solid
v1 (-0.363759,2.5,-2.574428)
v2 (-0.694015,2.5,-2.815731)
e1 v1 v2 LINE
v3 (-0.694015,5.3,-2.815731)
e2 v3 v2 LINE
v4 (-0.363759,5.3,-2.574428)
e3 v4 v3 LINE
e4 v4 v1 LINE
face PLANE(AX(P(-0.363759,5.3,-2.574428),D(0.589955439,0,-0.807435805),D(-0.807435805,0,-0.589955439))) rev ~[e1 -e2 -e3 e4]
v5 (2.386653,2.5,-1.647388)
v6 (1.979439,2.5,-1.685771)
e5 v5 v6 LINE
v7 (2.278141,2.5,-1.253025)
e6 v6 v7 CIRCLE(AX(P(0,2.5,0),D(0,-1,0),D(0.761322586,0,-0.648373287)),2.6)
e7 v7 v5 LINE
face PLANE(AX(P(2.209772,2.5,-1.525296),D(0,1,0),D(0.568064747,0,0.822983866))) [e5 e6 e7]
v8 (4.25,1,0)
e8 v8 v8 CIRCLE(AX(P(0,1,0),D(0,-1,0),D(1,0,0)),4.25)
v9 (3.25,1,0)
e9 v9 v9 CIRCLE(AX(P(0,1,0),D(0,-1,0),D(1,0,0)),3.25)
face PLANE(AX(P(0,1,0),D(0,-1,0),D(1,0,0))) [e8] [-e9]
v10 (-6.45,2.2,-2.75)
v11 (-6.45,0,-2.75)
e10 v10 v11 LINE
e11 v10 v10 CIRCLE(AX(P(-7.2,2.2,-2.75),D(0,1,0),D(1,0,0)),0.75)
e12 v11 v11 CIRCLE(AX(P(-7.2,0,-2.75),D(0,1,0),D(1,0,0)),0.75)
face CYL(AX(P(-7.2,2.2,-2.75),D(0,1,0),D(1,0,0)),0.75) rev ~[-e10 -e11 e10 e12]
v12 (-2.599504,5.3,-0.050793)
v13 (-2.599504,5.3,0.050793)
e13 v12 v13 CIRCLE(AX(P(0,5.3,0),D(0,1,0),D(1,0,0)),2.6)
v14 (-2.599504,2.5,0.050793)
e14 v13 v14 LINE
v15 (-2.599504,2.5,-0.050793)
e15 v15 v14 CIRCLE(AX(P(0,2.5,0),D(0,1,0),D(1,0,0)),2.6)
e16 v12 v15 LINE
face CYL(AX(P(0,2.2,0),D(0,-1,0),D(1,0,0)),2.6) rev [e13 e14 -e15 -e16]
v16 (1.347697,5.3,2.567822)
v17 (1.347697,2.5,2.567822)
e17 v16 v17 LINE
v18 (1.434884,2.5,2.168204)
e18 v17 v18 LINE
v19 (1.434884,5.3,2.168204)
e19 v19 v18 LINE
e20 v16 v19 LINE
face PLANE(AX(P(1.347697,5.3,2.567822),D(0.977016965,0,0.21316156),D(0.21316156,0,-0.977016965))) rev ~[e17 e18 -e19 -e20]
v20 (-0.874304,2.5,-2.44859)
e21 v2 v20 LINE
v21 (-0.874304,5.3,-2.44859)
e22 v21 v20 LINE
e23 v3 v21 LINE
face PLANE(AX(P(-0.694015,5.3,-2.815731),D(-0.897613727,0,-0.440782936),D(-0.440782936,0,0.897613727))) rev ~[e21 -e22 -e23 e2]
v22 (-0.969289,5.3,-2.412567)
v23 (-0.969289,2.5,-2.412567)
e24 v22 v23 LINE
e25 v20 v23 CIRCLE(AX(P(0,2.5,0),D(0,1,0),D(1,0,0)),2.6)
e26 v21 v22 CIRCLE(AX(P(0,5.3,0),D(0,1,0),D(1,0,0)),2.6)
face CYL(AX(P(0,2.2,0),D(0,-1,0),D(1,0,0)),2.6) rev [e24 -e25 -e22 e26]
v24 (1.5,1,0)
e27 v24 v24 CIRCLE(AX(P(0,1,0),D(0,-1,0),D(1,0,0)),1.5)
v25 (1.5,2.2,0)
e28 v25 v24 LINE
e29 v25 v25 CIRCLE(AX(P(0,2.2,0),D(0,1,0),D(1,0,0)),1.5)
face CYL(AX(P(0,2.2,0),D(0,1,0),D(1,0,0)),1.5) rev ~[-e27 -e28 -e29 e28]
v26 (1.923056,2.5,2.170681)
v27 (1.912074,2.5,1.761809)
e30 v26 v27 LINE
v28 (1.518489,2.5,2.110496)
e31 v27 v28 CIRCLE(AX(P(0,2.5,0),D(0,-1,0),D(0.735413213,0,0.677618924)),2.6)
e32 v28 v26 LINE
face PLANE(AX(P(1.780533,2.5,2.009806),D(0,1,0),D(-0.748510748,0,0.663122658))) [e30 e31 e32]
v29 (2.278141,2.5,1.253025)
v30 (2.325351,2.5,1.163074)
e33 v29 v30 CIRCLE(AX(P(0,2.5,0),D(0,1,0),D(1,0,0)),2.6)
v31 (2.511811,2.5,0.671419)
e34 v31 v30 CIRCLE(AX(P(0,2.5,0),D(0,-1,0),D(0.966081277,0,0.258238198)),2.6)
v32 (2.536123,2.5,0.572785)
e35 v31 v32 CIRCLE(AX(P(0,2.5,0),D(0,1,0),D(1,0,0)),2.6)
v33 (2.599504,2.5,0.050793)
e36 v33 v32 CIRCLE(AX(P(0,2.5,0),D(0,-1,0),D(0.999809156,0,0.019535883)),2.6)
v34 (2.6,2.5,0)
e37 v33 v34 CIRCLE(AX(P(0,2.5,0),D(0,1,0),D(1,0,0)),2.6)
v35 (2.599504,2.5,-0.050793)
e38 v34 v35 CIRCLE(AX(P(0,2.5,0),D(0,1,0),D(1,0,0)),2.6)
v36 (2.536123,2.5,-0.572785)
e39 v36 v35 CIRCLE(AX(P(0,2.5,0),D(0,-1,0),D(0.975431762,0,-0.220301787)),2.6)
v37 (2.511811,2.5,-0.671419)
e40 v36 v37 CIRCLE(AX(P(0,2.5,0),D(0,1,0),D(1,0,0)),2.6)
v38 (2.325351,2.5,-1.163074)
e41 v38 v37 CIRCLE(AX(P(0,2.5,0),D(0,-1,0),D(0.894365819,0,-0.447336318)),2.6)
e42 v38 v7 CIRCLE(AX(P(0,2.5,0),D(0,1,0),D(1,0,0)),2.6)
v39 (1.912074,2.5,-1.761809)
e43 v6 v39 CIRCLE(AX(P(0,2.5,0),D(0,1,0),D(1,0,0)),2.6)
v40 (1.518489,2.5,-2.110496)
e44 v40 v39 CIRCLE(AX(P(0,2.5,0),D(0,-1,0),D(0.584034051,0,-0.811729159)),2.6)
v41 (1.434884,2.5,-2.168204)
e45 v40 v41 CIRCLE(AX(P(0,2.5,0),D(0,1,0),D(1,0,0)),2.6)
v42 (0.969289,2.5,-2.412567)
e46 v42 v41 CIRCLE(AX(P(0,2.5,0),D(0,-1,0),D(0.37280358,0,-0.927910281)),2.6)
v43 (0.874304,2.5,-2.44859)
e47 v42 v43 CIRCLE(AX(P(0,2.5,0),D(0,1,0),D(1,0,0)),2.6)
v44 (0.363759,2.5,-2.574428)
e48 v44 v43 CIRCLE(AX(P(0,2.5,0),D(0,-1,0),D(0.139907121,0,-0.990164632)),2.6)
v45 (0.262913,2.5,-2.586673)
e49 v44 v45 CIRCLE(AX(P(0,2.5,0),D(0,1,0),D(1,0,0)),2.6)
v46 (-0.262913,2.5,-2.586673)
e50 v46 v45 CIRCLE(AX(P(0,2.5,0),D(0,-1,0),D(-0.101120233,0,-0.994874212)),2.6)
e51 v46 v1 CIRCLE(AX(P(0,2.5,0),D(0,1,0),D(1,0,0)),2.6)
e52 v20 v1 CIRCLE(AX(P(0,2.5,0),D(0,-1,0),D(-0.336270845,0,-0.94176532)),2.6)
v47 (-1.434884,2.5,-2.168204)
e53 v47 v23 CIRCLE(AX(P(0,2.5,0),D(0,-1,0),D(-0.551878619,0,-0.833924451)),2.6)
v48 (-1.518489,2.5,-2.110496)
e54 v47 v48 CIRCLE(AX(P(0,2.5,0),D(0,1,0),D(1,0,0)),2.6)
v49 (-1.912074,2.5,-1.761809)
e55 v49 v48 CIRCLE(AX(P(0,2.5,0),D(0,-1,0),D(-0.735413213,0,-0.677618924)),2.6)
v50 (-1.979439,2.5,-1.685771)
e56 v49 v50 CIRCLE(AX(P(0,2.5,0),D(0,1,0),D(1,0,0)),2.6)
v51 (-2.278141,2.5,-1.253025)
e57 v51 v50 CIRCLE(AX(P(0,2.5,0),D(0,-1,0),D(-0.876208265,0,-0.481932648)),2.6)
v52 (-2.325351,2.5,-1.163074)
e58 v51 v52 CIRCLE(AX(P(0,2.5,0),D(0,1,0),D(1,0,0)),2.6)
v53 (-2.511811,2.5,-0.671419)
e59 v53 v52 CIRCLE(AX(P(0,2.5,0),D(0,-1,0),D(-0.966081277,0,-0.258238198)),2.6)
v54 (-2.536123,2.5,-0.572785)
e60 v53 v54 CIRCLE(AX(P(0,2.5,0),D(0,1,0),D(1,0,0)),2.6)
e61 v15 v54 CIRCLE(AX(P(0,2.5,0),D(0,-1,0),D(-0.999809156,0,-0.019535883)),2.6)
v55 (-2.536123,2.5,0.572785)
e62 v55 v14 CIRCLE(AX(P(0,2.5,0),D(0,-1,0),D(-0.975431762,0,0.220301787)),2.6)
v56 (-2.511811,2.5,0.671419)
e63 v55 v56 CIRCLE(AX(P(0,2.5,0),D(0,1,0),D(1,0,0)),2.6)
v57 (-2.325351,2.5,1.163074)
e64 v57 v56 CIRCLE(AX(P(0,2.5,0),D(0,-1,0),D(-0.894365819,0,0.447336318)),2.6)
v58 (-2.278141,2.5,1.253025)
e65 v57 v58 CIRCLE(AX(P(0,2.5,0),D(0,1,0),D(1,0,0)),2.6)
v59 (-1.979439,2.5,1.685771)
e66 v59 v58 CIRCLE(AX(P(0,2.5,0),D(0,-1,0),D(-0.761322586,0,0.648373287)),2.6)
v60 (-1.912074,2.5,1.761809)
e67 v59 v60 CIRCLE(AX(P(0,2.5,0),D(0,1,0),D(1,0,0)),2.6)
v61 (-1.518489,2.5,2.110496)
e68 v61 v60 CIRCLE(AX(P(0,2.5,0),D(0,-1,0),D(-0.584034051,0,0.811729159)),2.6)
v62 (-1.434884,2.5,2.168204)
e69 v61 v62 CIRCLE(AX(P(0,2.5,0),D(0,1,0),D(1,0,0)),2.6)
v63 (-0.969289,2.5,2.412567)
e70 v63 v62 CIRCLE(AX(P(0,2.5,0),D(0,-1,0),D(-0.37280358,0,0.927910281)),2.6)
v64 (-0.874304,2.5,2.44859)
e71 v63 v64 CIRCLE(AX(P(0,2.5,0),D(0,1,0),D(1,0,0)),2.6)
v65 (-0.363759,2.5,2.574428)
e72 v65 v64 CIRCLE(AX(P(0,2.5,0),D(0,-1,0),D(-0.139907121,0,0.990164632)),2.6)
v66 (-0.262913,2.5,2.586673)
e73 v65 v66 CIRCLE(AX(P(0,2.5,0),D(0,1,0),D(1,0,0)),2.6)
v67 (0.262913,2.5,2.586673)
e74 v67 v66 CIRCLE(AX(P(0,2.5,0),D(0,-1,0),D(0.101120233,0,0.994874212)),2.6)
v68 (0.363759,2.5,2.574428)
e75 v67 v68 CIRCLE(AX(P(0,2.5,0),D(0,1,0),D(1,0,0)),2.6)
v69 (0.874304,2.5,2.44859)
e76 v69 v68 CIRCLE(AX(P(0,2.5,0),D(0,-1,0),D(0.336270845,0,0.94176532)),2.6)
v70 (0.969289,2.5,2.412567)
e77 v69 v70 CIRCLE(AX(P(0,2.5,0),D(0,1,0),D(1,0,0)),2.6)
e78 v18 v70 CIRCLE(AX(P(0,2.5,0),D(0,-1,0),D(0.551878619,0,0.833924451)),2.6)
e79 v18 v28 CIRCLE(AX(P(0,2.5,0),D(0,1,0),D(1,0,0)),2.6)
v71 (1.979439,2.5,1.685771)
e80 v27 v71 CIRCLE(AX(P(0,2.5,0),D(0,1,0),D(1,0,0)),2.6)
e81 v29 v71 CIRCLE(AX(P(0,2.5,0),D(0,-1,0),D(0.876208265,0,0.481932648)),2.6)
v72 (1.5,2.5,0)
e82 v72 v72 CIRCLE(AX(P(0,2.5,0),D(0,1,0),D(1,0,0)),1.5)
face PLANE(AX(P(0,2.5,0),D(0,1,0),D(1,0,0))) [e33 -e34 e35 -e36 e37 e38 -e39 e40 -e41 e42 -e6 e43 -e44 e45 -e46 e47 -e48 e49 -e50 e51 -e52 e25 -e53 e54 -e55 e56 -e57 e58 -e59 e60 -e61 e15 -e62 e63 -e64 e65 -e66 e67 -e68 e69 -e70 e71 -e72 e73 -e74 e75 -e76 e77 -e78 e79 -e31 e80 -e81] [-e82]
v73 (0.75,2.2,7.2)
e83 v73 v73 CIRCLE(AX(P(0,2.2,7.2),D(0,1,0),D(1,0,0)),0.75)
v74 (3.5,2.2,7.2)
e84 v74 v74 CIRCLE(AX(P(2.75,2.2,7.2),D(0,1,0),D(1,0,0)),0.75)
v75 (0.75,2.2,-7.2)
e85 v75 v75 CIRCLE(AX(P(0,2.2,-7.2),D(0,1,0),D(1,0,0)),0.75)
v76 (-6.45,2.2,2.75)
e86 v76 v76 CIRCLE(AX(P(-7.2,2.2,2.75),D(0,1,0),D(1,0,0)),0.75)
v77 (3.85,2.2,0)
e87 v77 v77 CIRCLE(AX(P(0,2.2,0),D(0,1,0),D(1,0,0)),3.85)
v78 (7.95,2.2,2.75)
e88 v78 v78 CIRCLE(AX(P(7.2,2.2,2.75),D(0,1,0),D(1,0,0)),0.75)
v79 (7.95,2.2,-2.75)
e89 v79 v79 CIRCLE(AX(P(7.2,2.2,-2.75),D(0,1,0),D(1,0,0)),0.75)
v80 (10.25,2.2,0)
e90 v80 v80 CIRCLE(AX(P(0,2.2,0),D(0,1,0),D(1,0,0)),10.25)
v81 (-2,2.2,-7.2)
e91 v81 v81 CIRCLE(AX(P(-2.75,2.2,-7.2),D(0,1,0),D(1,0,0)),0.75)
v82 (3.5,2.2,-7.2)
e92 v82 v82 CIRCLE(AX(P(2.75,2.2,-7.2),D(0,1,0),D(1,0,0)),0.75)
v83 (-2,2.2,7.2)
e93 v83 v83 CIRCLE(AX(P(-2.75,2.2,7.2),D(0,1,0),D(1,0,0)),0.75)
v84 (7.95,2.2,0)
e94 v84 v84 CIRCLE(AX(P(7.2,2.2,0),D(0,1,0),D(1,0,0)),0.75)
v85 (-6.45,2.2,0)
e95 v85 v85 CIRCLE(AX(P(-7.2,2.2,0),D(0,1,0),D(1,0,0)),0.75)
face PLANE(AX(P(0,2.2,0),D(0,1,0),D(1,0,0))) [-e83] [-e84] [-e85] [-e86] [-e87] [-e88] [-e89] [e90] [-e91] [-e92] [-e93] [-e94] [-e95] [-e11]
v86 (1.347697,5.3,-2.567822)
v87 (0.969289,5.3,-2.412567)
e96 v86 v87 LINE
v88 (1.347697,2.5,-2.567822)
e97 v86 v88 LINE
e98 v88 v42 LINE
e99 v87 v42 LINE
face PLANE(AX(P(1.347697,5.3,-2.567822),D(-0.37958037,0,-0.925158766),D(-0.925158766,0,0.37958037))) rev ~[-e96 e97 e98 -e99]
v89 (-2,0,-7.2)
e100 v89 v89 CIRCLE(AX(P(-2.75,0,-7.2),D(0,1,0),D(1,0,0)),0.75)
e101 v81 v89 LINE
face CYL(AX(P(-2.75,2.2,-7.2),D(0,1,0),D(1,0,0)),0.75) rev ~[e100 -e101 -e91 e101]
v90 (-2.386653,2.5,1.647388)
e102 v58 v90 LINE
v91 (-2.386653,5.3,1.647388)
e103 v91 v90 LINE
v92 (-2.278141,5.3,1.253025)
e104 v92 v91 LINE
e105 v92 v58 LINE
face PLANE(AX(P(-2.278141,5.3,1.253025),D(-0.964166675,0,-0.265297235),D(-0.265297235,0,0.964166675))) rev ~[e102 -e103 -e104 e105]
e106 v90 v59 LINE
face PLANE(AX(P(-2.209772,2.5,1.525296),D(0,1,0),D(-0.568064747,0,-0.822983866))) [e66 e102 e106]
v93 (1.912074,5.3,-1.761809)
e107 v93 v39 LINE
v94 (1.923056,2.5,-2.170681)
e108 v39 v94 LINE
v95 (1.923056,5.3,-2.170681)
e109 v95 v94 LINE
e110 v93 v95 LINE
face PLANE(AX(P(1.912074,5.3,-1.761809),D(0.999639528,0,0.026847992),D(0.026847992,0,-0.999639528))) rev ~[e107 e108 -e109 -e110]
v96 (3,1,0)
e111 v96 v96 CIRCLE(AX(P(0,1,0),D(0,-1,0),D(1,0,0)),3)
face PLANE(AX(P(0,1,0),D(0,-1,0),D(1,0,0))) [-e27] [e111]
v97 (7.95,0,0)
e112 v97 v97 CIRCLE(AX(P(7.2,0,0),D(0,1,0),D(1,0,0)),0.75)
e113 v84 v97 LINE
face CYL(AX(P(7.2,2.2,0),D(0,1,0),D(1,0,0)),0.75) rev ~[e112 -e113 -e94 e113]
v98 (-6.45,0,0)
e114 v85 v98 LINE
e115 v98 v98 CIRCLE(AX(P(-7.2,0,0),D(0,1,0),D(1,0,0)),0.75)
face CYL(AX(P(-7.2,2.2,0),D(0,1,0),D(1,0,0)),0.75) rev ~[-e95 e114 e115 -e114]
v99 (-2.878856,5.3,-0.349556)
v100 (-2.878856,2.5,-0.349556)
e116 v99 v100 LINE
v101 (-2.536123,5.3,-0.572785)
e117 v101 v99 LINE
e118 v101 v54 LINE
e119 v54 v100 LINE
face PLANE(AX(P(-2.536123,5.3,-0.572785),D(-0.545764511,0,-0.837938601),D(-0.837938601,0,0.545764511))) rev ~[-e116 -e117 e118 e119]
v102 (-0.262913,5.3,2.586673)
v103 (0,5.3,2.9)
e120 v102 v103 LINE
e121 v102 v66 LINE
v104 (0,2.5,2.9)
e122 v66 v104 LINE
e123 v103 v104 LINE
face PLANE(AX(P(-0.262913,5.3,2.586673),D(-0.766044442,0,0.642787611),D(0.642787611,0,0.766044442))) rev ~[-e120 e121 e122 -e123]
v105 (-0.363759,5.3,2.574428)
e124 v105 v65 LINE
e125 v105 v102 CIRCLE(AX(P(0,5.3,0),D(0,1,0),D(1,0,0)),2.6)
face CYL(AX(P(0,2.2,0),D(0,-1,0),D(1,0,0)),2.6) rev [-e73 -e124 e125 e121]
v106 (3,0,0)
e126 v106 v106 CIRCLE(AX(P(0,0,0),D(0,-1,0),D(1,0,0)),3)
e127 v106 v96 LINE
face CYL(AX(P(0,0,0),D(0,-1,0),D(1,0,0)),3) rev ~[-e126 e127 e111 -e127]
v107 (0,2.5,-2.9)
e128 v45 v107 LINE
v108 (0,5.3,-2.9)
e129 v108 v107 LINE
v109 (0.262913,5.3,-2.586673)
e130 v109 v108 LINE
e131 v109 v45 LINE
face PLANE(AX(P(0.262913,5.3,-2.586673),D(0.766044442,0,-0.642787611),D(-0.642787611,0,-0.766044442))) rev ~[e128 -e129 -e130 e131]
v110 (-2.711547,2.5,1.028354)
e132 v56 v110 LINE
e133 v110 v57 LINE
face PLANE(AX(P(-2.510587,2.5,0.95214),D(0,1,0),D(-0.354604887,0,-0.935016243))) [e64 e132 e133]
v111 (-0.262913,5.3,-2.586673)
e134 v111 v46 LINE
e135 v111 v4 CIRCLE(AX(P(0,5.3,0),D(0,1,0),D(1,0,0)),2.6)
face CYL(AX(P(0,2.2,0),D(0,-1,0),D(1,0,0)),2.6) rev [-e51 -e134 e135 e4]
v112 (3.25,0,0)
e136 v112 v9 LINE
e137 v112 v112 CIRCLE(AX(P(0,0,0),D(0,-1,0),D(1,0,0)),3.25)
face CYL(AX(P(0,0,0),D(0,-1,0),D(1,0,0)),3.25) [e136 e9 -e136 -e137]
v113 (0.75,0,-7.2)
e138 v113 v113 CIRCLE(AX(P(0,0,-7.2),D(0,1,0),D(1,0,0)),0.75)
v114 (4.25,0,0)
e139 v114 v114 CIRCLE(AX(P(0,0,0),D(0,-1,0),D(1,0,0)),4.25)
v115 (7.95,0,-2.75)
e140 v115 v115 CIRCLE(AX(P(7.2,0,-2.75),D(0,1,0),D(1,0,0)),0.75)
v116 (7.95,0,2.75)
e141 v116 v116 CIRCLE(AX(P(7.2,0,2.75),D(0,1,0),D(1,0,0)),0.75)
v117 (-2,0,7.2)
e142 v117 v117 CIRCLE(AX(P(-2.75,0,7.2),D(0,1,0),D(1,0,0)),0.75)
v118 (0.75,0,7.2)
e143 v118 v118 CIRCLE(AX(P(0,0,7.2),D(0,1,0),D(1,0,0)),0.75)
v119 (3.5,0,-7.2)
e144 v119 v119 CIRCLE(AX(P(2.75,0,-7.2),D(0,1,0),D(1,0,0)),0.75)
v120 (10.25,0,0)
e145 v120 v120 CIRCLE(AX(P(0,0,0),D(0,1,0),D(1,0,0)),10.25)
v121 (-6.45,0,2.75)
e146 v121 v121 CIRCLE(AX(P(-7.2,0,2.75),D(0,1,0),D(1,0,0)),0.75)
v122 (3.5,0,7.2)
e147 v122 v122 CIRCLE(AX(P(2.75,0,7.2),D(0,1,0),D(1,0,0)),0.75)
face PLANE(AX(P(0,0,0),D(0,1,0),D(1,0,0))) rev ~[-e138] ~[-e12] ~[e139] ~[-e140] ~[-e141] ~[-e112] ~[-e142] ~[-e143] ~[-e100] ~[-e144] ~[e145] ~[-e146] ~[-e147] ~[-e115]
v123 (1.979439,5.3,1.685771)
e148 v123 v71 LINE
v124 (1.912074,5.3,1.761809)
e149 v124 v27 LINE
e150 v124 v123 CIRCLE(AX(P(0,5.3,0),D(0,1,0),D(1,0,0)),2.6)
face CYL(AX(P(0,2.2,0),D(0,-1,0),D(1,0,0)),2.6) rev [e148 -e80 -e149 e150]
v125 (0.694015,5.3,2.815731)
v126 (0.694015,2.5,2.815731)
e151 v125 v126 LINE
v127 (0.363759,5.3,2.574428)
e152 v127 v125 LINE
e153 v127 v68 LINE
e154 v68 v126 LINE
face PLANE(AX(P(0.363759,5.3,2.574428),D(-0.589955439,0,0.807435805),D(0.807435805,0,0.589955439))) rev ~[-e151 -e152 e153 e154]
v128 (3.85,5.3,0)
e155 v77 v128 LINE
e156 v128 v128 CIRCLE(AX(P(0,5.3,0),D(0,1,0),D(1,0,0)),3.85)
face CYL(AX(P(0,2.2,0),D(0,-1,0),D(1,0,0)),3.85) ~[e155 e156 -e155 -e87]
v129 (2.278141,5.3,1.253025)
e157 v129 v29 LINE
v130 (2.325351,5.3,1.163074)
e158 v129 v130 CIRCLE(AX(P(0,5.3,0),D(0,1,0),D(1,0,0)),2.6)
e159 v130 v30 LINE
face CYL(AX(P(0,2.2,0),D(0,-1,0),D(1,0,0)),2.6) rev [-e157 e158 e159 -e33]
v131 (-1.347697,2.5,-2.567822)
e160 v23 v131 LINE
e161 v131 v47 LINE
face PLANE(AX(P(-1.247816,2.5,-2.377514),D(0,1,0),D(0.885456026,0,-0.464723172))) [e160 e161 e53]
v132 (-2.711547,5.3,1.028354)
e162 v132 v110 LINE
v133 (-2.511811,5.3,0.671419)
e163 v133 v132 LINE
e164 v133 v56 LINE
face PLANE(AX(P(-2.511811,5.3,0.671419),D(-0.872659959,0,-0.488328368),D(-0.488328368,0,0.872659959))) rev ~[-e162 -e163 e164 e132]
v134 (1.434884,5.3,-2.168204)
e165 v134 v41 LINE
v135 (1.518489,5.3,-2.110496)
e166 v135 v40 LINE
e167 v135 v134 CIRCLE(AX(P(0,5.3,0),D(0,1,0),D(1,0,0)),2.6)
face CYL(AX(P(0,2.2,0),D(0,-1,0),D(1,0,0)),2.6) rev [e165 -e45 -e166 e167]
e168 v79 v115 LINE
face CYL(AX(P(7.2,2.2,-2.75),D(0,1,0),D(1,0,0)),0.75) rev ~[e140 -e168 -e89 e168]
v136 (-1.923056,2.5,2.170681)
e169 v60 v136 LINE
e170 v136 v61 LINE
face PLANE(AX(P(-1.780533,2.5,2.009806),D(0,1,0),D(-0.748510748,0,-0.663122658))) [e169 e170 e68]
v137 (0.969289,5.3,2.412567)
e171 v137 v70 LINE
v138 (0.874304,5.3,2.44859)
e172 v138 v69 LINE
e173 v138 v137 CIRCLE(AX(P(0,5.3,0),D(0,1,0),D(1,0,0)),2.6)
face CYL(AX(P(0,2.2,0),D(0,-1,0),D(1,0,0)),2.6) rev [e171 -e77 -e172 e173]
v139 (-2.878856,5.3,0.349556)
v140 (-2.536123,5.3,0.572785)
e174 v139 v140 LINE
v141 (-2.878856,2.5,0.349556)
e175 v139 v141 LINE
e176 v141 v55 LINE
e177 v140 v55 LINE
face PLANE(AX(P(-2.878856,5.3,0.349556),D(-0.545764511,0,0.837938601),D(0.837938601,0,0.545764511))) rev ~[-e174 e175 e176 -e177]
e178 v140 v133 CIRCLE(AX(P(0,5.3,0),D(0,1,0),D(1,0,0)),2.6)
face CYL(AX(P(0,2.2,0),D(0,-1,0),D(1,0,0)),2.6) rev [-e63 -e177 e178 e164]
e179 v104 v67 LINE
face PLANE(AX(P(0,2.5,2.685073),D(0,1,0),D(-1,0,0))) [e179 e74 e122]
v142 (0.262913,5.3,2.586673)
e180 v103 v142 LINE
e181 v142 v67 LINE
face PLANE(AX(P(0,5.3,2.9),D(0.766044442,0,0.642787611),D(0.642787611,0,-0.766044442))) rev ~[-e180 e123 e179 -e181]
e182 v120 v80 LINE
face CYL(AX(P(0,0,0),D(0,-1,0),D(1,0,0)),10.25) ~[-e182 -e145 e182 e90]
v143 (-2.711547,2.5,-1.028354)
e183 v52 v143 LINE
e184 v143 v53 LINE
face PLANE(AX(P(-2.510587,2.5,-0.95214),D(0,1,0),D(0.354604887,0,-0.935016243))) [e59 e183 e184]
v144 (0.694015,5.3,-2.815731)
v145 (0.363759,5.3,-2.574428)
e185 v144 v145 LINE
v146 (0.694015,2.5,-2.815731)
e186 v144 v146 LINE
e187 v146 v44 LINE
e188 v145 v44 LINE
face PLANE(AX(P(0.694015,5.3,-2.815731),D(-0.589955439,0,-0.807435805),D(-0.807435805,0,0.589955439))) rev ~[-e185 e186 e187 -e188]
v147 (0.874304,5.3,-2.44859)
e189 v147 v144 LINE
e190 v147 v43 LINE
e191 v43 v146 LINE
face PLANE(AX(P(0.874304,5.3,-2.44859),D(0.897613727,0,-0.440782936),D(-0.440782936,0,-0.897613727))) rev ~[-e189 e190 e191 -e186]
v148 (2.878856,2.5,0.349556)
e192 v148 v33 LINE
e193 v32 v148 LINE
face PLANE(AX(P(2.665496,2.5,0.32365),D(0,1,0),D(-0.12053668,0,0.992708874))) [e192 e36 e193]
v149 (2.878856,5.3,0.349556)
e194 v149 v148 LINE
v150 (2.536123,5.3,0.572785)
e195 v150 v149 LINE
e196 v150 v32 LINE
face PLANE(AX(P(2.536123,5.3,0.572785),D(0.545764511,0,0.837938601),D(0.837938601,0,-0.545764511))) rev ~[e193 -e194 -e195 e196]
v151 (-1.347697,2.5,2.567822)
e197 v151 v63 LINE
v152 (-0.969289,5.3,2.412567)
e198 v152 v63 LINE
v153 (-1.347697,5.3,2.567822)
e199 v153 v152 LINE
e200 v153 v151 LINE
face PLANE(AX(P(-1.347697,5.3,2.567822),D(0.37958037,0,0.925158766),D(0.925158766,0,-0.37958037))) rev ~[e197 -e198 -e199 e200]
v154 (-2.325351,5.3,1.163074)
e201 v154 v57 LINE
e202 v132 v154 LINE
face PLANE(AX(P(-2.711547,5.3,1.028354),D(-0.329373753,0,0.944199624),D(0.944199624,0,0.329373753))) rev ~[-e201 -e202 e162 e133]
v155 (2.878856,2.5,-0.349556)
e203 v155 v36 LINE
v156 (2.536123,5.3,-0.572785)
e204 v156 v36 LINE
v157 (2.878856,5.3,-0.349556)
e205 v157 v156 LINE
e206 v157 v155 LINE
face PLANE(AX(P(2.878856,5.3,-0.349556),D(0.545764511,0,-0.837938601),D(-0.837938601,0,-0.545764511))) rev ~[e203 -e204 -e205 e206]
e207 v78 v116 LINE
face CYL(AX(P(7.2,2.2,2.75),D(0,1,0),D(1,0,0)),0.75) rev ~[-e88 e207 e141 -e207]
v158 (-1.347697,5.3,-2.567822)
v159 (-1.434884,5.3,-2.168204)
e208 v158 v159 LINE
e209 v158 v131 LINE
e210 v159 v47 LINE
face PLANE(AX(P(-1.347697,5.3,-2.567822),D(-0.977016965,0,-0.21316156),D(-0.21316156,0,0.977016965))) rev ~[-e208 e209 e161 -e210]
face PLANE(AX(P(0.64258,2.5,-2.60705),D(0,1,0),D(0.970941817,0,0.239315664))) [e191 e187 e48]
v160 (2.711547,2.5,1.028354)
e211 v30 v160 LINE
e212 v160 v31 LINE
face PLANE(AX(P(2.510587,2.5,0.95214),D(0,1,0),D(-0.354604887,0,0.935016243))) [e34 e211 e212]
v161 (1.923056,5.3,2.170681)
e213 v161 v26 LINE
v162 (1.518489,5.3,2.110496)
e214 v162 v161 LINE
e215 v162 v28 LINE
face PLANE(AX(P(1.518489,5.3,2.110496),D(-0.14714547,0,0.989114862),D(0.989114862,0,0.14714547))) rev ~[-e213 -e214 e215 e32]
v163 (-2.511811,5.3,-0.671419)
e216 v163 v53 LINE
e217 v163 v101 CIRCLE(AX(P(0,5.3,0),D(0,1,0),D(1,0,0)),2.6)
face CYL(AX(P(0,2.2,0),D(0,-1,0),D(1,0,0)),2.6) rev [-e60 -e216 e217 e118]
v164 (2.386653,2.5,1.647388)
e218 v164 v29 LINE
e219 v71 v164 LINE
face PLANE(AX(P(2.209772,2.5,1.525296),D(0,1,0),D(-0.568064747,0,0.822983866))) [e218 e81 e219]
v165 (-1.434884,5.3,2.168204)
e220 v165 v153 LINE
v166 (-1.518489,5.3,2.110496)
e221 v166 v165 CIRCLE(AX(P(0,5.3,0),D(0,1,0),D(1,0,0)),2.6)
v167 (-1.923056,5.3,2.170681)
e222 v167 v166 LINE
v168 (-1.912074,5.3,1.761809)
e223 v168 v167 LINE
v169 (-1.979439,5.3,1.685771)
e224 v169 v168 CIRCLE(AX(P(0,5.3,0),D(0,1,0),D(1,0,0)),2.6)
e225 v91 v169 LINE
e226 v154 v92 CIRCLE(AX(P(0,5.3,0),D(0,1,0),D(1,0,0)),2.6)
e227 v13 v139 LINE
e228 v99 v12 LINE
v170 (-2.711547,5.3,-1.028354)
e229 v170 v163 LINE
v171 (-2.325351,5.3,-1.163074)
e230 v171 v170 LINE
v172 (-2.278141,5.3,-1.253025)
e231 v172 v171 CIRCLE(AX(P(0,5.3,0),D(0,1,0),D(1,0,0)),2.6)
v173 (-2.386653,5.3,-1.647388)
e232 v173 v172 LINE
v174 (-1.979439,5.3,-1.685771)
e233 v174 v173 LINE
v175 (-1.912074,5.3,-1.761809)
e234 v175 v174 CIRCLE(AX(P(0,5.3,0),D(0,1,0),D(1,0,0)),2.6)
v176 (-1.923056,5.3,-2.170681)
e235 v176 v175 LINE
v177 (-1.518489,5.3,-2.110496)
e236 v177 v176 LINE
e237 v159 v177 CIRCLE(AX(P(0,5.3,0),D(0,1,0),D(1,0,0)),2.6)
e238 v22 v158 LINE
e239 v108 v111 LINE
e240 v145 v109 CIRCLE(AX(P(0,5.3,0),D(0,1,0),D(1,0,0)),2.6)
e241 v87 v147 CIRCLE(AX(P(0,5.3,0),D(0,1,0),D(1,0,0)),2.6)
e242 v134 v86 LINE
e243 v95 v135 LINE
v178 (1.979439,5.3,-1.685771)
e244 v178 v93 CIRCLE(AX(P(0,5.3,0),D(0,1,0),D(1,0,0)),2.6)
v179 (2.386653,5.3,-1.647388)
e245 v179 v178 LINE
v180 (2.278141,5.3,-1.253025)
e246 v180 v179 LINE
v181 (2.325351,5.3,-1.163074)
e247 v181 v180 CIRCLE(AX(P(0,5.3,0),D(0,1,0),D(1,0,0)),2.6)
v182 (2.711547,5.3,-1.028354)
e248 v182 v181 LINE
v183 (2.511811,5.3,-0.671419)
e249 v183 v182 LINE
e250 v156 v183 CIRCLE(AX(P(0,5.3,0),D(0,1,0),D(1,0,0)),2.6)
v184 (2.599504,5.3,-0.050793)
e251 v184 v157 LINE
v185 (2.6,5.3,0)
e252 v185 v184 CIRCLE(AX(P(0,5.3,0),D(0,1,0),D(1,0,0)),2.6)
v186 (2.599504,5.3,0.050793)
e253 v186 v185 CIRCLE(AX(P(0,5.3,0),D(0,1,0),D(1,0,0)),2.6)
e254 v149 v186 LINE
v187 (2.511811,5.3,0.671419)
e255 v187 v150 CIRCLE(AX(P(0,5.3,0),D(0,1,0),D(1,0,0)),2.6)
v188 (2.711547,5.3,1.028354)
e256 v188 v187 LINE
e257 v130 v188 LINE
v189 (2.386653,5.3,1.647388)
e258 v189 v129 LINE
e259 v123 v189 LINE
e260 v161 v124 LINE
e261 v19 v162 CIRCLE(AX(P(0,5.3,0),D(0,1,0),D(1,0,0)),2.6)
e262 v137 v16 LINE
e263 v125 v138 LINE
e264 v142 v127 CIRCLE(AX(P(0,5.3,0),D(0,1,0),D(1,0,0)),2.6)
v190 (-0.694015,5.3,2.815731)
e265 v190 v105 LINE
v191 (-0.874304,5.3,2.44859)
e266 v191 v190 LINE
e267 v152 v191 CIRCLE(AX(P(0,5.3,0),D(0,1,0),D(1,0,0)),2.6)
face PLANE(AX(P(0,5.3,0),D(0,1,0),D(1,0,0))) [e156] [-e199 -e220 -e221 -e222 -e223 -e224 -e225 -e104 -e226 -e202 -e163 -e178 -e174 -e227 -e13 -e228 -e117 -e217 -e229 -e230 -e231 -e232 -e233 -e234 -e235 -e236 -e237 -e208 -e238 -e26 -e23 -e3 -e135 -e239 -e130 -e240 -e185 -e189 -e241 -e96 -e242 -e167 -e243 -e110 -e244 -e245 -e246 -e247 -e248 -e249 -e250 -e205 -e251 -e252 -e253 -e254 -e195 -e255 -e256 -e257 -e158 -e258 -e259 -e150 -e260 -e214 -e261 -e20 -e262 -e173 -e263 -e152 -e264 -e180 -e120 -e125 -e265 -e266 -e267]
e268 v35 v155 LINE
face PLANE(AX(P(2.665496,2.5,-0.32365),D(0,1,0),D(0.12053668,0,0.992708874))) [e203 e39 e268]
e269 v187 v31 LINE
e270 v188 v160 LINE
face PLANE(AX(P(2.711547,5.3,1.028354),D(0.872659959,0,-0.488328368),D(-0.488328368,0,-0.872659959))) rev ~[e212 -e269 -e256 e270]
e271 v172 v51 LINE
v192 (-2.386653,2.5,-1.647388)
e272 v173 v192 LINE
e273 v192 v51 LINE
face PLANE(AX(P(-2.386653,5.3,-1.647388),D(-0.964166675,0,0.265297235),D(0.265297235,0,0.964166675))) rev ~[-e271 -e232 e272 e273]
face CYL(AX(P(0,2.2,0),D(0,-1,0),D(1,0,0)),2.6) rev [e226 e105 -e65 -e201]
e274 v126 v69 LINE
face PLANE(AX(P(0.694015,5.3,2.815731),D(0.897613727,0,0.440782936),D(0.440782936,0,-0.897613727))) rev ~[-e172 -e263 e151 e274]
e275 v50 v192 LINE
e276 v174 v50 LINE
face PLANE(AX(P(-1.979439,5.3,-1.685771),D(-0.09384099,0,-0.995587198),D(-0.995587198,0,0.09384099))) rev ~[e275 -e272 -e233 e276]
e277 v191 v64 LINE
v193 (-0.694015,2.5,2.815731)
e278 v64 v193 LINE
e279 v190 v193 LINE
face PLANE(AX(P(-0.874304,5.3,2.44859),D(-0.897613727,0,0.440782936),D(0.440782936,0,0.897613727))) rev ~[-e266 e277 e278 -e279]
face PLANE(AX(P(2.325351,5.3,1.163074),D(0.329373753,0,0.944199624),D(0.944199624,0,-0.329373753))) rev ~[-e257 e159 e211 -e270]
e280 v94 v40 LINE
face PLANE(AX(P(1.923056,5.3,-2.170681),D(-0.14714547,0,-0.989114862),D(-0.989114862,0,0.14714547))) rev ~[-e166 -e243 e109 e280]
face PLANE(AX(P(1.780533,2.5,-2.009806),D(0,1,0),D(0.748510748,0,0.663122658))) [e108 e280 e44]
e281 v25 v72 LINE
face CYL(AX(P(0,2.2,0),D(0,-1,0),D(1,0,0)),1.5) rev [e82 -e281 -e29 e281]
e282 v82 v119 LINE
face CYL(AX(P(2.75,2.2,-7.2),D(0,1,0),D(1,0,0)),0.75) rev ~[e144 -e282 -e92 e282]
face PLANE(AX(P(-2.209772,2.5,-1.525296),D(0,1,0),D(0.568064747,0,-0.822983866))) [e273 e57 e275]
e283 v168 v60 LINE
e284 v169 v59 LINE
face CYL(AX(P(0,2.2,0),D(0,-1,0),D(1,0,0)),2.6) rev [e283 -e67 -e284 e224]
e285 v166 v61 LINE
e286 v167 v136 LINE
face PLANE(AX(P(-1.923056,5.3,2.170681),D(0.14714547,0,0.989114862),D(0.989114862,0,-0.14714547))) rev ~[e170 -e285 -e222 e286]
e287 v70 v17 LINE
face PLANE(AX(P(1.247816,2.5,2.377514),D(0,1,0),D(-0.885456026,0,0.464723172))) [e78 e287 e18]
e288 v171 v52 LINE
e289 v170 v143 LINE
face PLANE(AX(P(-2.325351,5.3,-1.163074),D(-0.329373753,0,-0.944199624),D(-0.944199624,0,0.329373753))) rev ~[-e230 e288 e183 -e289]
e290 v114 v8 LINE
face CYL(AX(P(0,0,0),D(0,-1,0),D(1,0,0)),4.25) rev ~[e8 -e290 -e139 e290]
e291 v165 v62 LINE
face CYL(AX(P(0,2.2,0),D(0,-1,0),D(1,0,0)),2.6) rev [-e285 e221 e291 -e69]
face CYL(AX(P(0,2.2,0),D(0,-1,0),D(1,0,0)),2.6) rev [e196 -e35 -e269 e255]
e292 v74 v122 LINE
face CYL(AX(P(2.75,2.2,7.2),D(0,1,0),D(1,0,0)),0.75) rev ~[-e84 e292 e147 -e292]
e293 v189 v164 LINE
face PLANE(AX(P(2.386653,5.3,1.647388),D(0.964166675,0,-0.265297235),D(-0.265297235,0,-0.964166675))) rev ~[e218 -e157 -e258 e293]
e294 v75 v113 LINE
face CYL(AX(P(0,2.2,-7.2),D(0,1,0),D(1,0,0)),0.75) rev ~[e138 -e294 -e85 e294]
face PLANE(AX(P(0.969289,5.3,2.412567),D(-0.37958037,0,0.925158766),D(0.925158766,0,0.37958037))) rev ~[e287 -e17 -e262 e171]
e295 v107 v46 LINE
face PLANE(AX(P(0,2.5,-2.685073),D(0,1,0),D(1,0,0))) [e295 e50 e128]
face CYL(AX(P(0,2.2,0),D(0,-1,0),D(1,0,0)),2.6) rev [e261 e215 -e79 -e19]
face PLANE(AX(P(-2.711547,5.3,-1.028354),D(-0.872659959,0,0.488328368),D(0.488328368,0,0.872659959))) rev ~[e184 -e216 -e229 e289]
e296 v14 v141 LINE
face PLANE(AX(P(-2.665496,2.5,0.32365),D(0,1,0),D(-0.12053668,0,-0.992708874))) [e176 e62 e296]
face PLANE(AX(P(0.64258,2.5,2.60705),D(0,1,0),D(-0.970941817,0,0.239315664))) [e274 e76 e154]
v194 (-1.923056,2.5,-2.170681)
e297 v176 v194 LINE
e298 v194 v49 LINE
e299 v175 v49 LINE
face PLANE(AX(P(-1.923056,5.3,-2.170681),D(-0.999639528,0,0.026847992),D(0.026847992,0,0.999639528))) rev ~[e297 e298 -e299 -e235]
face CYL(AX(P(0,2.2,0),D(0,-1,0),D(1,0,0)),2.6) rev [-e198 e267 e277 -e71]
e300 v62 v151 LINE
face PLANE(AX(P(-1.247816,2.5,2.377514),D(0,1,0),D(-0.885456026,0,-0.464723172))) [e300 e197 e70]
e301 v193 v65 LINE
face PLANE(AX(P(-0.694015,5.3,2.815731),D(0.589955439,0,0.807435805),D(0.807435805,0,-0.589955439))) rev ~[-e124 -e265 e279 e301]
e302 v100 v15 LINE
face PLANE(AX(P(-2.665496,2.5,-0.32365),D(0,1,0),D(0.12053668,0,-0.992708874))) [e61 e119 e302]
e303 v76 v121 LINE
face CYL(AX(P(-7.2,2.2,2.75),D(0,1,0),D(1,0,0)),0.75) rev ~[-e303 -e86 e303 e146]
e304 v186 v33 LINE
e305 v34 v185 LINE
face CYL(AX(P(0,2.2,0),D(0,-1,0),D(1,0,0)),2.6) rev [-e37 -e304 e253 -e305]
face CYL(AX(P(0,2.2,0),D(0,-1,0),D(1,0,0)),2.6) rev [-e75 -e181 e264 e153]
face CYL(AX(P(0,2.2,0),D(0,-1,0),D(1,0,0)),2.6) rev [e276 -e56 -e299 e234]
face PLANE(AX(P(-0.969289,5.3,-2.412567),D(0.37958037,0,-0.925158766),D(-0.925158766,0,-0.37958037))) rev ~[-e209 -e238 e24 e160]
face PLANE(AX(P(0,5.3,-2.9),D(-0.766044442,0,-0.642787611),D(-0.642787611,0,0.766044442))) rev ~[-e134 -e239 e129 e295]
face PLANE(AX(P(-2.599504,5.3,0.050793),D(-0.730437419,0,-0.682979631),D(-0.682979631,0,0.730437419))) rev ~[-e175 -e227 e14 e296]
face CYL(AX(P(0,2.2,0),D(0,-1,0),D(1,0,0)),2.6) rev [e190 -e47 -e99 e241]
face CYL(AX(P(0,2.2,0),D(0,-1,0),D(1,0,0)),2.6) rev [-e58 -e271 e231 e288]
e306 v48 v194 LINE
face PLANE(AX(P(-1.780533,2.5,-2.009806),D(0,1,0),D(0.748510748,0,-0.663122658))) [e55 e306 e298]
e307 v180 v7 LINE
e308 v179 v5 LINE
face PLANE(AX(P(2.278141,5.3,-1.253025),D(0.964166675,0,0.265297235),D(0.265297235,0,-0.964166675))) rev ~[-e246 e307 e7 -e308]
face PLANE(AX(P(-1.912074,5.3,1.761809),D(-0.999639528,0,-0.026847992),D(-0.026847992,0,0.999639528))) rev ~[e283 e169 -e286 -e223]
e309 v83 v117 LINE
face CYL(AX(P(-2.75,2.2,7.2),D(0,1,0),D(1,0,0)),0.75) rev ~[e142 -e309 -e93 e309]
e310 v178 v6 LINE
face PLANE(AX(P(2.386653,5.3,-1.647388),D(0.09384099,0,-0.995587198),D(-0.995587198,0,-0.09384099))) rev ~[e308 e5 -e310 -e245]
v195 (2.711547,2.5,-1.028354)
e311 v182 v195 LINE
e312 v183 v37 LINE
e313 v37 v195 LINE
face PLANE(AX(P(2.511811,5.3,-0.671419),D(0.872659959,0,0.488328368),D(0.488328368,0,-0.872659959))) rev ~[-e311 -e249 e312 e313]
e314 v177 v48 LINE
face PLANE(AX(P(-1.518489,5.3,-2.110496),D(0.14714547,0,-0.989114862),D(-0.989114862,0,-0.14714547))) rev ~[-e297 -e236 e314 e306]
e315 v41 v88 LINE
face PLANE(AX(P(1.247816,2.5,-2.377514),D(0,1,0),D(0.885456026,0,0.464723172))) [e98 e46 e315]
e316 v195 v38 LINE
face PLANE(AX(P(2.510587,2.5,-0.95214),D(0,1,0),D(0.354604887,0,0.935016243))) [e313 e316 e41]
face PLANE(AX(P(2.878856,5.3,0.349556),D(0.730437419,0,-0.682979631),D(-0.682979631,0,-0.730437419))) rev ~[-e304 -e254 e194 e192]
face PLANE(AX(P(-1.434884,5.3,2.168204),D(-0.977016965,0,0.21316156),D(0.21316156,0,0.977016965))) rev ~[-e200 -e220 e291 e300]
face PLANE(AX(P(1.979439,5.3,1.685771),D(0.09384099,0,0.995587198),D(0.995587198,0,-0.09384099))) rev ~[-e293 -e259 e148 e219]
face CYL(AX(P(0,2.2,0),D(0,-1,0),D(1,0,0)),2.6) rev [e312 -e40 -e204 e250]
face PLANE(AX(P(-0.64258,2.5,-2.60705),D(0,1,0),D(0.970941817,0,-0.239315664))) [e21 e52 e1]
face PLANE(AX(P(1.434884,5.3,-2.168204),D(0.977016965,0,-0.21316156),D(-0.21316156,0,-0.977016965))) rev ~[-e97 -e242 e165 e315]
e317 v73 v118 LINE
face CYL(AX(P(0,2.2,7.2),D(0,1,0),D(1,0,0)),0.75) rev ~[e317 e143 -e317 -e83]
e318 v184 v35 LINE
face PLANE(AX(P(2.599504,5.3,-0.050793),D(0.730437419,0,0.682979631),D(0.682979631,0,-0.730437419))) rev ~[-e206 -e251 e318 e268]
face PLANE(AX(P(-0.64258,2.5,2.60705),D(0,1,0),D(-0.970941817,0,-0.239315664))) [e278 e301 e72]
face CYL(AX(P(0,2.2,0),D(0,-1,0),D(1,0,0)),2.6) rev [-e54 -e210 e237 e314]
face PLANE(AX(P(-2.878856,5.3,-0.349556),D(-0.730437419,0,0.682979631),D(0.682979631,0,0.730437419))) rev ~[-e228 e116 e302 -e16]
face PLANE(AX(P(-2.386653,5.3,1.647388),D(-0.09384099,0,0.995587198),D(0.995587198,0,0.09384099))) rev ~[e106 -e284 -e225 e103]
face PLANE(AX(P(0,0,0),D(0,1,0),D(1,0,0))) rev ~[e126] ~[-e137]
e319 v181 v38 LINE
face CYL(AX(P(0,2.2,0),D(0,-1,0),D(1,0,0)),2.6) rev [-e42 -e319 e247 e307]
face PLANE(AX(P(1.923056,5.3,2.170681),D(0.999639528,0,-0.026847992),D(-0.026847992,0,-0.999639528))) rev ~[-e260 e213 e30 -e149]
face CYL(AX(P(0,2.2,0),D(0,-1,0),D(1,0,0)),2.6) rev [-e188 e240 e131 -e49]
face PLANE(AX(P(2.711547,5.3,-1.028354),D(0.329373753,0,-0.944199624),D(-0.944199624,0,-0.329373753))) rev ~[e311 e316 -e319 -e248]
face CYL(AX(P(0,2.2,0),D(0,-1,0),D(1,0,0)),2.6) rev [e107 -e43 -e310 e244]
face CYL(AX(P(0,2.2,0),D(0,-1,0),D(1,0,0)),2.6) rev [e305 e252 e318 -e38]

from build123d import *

# Parameters (mm, degrees)
SKETCH_1_R               = 10.25
EXTRUDE_1_DEPTH          = 2.2
SKETCH_2_R               = 3.85
SKETCH_2_R_2             = 2.6
EXTRUDE_2_DEPTH          = 3.1
SKETCH_3_R               = 0.75
SKETCH_3_R_2             = 1.5
CUT_EXTRUDE_1_DEPTH      = 3.2
SKETCH_4_R               = 4.25
SKETCH_4_R_2             = 3.25
SKETCH_4_R_3             = 3
SKETCH_4_R_4             = 1.5
CUT_EXTRUDE_2_DEPTH      = 1
SKETCH_5_R               = 2.6
SKETCH_5_R_2             = 1.5
EXTRUDE_3_DEPTH          = 0.3
CUT_EXTRUDE_3_DEPTH      = 2.8
PATTERN_CIRCULAR_1_COUNT = 26


with BuildPart() as part:
    # Эскиз1 → Бобышка-Вытянуть1 (new body)
    with BuildSketch(Plane(origin=(0, 0, 0), x_dir=(1, 0, 0), z_dir=(0, 1, 0))):
        Circle(SKETCH_1_R)
    extrude(amount=EXTRUDE_1_DEPTH)

    # Эскиз2 → Бобышка-Вытянуть2 (add)
    with BuildSketch(Plane(origin=(0, 2.2, 0), x_dir=(1, 0, 0), z_dir=(0, 1, 0))):
        Circle(SKETCH_2_R)
        Circle(SKETCH_2_R_2, mode=Mode.SUBTRACT)
    extrude(amount=EXTRUDE_2_DEPTH)

    # Эскиз3 → Вырез-Вытянуть1 (cut, through all)
    with BuildSketch(Plane(origin=(0, 2.2, 0), x_dir=(1, 0, 0), z_dir=(0, 1, 0))):
        with Locations((0, 7.2)):
            Circle(SKETCH_3_R)
        with Locations((7.2, 0)):
            Circle(SKETCH_3_R)
        with Locations((0, -7.2)):
            Circle(SKETCH_3_R)
        with Locations((-7.2, 0)):
            Circle(SKETCH_3_R)
        Circle(SKETCH_3_R_2)
        with Locations((2.75, 7.2)):
            Circle(SKETCH_3_R)
        with Locations((2.75, -7.2)):
            Circle(SKETCH_3_R)
        with Locations((-2.75, 7.2)):
            Circle(SKETCH_3_R)
        with Locations((-2.75, -7.2)):
            Circle(SKETCH_3_R)
        with Locations((7.2, 2.75)):
            Circle(SKETCH_3_R)
        with Locations((-7.2, 2.75)):
            Circle(SKETCH_3_R)
        with Locations((7.2, -2.75)):
            Circle(SKETCH_3_R)
        with Locations((-7.2, -2.75)):
            Circle(SKETCH_3_R)
    extrude(amount=-CUT_EXTRUDE_1_DEPTH, mode=Mode.SUBTRACT)

    # Эскиз4 → Вырез-Вытянуть2 (cut)
    with BuildSketch(Plane.XZ):
        Circle(SKETCH_4_R)
        Circle(SKETCH_4_R_2, mode=Mode.SUBTRACT)
        Circle(SKETCH_4_R_3)
        Circle(SKETCH_4_R_4, mode=Mode.SUBTRACT)
    extrude(amount=-CUT_EXTRUDE_2_DEPTH, mode=Mode.SUBTRACT)

    # Эскиз5 → Бобышка-Вытянуть3 (add)
    with BuildSketch(Plane(origin=(0, 2.2, 0), x_dir=(1, 0, 0), z_dir=(0, 1, 0))):
        Circle(SKETCH_5_R)
        Circle(SKETCH_5_R_2, mode=Mode.SUBTRACT)
    extrude(amount=EXTRUDE_3_DEPTH)

    # Эскиз6 → Вырез-Вытянуть3 (cut)
    with BuildSketch(Plane(origin=(0, 5.3, 0), x_dir=(1, 0, 0), z_dir=(0, 1, 0))):
        with BuildLine():
            Line((0, 2.9), (-0.262912611, 2.586672952))
            ThreePointArc((-0.262912611, 2.586672952), (0, 2.6), (0.262912611, 2.586672952))
            Line((0.262912611, 2.586672952), (0, 2.9))
        make_face()
    cut_extrude_3 = extrude(amount=-CUT_EXTRUDE_3_DEPTH, mode=Mode.SUBTRACT)

    # Круговой массив1: Вырез-Вытянуть3 ×26 about axis
    pattern_circular_1_axis = Axis((0, 0, 0), (0, 1, 0))
    for i in range(1, PATTERN_CIRCULAR_1_COUNT):
        add(cut_extrude_3.rotate(pattern_circular_1_axis, i * 360 / PATTERN_CIRCULAR_1_COUNT), mode=Mode.SUBTRACT)


solid = part.part
